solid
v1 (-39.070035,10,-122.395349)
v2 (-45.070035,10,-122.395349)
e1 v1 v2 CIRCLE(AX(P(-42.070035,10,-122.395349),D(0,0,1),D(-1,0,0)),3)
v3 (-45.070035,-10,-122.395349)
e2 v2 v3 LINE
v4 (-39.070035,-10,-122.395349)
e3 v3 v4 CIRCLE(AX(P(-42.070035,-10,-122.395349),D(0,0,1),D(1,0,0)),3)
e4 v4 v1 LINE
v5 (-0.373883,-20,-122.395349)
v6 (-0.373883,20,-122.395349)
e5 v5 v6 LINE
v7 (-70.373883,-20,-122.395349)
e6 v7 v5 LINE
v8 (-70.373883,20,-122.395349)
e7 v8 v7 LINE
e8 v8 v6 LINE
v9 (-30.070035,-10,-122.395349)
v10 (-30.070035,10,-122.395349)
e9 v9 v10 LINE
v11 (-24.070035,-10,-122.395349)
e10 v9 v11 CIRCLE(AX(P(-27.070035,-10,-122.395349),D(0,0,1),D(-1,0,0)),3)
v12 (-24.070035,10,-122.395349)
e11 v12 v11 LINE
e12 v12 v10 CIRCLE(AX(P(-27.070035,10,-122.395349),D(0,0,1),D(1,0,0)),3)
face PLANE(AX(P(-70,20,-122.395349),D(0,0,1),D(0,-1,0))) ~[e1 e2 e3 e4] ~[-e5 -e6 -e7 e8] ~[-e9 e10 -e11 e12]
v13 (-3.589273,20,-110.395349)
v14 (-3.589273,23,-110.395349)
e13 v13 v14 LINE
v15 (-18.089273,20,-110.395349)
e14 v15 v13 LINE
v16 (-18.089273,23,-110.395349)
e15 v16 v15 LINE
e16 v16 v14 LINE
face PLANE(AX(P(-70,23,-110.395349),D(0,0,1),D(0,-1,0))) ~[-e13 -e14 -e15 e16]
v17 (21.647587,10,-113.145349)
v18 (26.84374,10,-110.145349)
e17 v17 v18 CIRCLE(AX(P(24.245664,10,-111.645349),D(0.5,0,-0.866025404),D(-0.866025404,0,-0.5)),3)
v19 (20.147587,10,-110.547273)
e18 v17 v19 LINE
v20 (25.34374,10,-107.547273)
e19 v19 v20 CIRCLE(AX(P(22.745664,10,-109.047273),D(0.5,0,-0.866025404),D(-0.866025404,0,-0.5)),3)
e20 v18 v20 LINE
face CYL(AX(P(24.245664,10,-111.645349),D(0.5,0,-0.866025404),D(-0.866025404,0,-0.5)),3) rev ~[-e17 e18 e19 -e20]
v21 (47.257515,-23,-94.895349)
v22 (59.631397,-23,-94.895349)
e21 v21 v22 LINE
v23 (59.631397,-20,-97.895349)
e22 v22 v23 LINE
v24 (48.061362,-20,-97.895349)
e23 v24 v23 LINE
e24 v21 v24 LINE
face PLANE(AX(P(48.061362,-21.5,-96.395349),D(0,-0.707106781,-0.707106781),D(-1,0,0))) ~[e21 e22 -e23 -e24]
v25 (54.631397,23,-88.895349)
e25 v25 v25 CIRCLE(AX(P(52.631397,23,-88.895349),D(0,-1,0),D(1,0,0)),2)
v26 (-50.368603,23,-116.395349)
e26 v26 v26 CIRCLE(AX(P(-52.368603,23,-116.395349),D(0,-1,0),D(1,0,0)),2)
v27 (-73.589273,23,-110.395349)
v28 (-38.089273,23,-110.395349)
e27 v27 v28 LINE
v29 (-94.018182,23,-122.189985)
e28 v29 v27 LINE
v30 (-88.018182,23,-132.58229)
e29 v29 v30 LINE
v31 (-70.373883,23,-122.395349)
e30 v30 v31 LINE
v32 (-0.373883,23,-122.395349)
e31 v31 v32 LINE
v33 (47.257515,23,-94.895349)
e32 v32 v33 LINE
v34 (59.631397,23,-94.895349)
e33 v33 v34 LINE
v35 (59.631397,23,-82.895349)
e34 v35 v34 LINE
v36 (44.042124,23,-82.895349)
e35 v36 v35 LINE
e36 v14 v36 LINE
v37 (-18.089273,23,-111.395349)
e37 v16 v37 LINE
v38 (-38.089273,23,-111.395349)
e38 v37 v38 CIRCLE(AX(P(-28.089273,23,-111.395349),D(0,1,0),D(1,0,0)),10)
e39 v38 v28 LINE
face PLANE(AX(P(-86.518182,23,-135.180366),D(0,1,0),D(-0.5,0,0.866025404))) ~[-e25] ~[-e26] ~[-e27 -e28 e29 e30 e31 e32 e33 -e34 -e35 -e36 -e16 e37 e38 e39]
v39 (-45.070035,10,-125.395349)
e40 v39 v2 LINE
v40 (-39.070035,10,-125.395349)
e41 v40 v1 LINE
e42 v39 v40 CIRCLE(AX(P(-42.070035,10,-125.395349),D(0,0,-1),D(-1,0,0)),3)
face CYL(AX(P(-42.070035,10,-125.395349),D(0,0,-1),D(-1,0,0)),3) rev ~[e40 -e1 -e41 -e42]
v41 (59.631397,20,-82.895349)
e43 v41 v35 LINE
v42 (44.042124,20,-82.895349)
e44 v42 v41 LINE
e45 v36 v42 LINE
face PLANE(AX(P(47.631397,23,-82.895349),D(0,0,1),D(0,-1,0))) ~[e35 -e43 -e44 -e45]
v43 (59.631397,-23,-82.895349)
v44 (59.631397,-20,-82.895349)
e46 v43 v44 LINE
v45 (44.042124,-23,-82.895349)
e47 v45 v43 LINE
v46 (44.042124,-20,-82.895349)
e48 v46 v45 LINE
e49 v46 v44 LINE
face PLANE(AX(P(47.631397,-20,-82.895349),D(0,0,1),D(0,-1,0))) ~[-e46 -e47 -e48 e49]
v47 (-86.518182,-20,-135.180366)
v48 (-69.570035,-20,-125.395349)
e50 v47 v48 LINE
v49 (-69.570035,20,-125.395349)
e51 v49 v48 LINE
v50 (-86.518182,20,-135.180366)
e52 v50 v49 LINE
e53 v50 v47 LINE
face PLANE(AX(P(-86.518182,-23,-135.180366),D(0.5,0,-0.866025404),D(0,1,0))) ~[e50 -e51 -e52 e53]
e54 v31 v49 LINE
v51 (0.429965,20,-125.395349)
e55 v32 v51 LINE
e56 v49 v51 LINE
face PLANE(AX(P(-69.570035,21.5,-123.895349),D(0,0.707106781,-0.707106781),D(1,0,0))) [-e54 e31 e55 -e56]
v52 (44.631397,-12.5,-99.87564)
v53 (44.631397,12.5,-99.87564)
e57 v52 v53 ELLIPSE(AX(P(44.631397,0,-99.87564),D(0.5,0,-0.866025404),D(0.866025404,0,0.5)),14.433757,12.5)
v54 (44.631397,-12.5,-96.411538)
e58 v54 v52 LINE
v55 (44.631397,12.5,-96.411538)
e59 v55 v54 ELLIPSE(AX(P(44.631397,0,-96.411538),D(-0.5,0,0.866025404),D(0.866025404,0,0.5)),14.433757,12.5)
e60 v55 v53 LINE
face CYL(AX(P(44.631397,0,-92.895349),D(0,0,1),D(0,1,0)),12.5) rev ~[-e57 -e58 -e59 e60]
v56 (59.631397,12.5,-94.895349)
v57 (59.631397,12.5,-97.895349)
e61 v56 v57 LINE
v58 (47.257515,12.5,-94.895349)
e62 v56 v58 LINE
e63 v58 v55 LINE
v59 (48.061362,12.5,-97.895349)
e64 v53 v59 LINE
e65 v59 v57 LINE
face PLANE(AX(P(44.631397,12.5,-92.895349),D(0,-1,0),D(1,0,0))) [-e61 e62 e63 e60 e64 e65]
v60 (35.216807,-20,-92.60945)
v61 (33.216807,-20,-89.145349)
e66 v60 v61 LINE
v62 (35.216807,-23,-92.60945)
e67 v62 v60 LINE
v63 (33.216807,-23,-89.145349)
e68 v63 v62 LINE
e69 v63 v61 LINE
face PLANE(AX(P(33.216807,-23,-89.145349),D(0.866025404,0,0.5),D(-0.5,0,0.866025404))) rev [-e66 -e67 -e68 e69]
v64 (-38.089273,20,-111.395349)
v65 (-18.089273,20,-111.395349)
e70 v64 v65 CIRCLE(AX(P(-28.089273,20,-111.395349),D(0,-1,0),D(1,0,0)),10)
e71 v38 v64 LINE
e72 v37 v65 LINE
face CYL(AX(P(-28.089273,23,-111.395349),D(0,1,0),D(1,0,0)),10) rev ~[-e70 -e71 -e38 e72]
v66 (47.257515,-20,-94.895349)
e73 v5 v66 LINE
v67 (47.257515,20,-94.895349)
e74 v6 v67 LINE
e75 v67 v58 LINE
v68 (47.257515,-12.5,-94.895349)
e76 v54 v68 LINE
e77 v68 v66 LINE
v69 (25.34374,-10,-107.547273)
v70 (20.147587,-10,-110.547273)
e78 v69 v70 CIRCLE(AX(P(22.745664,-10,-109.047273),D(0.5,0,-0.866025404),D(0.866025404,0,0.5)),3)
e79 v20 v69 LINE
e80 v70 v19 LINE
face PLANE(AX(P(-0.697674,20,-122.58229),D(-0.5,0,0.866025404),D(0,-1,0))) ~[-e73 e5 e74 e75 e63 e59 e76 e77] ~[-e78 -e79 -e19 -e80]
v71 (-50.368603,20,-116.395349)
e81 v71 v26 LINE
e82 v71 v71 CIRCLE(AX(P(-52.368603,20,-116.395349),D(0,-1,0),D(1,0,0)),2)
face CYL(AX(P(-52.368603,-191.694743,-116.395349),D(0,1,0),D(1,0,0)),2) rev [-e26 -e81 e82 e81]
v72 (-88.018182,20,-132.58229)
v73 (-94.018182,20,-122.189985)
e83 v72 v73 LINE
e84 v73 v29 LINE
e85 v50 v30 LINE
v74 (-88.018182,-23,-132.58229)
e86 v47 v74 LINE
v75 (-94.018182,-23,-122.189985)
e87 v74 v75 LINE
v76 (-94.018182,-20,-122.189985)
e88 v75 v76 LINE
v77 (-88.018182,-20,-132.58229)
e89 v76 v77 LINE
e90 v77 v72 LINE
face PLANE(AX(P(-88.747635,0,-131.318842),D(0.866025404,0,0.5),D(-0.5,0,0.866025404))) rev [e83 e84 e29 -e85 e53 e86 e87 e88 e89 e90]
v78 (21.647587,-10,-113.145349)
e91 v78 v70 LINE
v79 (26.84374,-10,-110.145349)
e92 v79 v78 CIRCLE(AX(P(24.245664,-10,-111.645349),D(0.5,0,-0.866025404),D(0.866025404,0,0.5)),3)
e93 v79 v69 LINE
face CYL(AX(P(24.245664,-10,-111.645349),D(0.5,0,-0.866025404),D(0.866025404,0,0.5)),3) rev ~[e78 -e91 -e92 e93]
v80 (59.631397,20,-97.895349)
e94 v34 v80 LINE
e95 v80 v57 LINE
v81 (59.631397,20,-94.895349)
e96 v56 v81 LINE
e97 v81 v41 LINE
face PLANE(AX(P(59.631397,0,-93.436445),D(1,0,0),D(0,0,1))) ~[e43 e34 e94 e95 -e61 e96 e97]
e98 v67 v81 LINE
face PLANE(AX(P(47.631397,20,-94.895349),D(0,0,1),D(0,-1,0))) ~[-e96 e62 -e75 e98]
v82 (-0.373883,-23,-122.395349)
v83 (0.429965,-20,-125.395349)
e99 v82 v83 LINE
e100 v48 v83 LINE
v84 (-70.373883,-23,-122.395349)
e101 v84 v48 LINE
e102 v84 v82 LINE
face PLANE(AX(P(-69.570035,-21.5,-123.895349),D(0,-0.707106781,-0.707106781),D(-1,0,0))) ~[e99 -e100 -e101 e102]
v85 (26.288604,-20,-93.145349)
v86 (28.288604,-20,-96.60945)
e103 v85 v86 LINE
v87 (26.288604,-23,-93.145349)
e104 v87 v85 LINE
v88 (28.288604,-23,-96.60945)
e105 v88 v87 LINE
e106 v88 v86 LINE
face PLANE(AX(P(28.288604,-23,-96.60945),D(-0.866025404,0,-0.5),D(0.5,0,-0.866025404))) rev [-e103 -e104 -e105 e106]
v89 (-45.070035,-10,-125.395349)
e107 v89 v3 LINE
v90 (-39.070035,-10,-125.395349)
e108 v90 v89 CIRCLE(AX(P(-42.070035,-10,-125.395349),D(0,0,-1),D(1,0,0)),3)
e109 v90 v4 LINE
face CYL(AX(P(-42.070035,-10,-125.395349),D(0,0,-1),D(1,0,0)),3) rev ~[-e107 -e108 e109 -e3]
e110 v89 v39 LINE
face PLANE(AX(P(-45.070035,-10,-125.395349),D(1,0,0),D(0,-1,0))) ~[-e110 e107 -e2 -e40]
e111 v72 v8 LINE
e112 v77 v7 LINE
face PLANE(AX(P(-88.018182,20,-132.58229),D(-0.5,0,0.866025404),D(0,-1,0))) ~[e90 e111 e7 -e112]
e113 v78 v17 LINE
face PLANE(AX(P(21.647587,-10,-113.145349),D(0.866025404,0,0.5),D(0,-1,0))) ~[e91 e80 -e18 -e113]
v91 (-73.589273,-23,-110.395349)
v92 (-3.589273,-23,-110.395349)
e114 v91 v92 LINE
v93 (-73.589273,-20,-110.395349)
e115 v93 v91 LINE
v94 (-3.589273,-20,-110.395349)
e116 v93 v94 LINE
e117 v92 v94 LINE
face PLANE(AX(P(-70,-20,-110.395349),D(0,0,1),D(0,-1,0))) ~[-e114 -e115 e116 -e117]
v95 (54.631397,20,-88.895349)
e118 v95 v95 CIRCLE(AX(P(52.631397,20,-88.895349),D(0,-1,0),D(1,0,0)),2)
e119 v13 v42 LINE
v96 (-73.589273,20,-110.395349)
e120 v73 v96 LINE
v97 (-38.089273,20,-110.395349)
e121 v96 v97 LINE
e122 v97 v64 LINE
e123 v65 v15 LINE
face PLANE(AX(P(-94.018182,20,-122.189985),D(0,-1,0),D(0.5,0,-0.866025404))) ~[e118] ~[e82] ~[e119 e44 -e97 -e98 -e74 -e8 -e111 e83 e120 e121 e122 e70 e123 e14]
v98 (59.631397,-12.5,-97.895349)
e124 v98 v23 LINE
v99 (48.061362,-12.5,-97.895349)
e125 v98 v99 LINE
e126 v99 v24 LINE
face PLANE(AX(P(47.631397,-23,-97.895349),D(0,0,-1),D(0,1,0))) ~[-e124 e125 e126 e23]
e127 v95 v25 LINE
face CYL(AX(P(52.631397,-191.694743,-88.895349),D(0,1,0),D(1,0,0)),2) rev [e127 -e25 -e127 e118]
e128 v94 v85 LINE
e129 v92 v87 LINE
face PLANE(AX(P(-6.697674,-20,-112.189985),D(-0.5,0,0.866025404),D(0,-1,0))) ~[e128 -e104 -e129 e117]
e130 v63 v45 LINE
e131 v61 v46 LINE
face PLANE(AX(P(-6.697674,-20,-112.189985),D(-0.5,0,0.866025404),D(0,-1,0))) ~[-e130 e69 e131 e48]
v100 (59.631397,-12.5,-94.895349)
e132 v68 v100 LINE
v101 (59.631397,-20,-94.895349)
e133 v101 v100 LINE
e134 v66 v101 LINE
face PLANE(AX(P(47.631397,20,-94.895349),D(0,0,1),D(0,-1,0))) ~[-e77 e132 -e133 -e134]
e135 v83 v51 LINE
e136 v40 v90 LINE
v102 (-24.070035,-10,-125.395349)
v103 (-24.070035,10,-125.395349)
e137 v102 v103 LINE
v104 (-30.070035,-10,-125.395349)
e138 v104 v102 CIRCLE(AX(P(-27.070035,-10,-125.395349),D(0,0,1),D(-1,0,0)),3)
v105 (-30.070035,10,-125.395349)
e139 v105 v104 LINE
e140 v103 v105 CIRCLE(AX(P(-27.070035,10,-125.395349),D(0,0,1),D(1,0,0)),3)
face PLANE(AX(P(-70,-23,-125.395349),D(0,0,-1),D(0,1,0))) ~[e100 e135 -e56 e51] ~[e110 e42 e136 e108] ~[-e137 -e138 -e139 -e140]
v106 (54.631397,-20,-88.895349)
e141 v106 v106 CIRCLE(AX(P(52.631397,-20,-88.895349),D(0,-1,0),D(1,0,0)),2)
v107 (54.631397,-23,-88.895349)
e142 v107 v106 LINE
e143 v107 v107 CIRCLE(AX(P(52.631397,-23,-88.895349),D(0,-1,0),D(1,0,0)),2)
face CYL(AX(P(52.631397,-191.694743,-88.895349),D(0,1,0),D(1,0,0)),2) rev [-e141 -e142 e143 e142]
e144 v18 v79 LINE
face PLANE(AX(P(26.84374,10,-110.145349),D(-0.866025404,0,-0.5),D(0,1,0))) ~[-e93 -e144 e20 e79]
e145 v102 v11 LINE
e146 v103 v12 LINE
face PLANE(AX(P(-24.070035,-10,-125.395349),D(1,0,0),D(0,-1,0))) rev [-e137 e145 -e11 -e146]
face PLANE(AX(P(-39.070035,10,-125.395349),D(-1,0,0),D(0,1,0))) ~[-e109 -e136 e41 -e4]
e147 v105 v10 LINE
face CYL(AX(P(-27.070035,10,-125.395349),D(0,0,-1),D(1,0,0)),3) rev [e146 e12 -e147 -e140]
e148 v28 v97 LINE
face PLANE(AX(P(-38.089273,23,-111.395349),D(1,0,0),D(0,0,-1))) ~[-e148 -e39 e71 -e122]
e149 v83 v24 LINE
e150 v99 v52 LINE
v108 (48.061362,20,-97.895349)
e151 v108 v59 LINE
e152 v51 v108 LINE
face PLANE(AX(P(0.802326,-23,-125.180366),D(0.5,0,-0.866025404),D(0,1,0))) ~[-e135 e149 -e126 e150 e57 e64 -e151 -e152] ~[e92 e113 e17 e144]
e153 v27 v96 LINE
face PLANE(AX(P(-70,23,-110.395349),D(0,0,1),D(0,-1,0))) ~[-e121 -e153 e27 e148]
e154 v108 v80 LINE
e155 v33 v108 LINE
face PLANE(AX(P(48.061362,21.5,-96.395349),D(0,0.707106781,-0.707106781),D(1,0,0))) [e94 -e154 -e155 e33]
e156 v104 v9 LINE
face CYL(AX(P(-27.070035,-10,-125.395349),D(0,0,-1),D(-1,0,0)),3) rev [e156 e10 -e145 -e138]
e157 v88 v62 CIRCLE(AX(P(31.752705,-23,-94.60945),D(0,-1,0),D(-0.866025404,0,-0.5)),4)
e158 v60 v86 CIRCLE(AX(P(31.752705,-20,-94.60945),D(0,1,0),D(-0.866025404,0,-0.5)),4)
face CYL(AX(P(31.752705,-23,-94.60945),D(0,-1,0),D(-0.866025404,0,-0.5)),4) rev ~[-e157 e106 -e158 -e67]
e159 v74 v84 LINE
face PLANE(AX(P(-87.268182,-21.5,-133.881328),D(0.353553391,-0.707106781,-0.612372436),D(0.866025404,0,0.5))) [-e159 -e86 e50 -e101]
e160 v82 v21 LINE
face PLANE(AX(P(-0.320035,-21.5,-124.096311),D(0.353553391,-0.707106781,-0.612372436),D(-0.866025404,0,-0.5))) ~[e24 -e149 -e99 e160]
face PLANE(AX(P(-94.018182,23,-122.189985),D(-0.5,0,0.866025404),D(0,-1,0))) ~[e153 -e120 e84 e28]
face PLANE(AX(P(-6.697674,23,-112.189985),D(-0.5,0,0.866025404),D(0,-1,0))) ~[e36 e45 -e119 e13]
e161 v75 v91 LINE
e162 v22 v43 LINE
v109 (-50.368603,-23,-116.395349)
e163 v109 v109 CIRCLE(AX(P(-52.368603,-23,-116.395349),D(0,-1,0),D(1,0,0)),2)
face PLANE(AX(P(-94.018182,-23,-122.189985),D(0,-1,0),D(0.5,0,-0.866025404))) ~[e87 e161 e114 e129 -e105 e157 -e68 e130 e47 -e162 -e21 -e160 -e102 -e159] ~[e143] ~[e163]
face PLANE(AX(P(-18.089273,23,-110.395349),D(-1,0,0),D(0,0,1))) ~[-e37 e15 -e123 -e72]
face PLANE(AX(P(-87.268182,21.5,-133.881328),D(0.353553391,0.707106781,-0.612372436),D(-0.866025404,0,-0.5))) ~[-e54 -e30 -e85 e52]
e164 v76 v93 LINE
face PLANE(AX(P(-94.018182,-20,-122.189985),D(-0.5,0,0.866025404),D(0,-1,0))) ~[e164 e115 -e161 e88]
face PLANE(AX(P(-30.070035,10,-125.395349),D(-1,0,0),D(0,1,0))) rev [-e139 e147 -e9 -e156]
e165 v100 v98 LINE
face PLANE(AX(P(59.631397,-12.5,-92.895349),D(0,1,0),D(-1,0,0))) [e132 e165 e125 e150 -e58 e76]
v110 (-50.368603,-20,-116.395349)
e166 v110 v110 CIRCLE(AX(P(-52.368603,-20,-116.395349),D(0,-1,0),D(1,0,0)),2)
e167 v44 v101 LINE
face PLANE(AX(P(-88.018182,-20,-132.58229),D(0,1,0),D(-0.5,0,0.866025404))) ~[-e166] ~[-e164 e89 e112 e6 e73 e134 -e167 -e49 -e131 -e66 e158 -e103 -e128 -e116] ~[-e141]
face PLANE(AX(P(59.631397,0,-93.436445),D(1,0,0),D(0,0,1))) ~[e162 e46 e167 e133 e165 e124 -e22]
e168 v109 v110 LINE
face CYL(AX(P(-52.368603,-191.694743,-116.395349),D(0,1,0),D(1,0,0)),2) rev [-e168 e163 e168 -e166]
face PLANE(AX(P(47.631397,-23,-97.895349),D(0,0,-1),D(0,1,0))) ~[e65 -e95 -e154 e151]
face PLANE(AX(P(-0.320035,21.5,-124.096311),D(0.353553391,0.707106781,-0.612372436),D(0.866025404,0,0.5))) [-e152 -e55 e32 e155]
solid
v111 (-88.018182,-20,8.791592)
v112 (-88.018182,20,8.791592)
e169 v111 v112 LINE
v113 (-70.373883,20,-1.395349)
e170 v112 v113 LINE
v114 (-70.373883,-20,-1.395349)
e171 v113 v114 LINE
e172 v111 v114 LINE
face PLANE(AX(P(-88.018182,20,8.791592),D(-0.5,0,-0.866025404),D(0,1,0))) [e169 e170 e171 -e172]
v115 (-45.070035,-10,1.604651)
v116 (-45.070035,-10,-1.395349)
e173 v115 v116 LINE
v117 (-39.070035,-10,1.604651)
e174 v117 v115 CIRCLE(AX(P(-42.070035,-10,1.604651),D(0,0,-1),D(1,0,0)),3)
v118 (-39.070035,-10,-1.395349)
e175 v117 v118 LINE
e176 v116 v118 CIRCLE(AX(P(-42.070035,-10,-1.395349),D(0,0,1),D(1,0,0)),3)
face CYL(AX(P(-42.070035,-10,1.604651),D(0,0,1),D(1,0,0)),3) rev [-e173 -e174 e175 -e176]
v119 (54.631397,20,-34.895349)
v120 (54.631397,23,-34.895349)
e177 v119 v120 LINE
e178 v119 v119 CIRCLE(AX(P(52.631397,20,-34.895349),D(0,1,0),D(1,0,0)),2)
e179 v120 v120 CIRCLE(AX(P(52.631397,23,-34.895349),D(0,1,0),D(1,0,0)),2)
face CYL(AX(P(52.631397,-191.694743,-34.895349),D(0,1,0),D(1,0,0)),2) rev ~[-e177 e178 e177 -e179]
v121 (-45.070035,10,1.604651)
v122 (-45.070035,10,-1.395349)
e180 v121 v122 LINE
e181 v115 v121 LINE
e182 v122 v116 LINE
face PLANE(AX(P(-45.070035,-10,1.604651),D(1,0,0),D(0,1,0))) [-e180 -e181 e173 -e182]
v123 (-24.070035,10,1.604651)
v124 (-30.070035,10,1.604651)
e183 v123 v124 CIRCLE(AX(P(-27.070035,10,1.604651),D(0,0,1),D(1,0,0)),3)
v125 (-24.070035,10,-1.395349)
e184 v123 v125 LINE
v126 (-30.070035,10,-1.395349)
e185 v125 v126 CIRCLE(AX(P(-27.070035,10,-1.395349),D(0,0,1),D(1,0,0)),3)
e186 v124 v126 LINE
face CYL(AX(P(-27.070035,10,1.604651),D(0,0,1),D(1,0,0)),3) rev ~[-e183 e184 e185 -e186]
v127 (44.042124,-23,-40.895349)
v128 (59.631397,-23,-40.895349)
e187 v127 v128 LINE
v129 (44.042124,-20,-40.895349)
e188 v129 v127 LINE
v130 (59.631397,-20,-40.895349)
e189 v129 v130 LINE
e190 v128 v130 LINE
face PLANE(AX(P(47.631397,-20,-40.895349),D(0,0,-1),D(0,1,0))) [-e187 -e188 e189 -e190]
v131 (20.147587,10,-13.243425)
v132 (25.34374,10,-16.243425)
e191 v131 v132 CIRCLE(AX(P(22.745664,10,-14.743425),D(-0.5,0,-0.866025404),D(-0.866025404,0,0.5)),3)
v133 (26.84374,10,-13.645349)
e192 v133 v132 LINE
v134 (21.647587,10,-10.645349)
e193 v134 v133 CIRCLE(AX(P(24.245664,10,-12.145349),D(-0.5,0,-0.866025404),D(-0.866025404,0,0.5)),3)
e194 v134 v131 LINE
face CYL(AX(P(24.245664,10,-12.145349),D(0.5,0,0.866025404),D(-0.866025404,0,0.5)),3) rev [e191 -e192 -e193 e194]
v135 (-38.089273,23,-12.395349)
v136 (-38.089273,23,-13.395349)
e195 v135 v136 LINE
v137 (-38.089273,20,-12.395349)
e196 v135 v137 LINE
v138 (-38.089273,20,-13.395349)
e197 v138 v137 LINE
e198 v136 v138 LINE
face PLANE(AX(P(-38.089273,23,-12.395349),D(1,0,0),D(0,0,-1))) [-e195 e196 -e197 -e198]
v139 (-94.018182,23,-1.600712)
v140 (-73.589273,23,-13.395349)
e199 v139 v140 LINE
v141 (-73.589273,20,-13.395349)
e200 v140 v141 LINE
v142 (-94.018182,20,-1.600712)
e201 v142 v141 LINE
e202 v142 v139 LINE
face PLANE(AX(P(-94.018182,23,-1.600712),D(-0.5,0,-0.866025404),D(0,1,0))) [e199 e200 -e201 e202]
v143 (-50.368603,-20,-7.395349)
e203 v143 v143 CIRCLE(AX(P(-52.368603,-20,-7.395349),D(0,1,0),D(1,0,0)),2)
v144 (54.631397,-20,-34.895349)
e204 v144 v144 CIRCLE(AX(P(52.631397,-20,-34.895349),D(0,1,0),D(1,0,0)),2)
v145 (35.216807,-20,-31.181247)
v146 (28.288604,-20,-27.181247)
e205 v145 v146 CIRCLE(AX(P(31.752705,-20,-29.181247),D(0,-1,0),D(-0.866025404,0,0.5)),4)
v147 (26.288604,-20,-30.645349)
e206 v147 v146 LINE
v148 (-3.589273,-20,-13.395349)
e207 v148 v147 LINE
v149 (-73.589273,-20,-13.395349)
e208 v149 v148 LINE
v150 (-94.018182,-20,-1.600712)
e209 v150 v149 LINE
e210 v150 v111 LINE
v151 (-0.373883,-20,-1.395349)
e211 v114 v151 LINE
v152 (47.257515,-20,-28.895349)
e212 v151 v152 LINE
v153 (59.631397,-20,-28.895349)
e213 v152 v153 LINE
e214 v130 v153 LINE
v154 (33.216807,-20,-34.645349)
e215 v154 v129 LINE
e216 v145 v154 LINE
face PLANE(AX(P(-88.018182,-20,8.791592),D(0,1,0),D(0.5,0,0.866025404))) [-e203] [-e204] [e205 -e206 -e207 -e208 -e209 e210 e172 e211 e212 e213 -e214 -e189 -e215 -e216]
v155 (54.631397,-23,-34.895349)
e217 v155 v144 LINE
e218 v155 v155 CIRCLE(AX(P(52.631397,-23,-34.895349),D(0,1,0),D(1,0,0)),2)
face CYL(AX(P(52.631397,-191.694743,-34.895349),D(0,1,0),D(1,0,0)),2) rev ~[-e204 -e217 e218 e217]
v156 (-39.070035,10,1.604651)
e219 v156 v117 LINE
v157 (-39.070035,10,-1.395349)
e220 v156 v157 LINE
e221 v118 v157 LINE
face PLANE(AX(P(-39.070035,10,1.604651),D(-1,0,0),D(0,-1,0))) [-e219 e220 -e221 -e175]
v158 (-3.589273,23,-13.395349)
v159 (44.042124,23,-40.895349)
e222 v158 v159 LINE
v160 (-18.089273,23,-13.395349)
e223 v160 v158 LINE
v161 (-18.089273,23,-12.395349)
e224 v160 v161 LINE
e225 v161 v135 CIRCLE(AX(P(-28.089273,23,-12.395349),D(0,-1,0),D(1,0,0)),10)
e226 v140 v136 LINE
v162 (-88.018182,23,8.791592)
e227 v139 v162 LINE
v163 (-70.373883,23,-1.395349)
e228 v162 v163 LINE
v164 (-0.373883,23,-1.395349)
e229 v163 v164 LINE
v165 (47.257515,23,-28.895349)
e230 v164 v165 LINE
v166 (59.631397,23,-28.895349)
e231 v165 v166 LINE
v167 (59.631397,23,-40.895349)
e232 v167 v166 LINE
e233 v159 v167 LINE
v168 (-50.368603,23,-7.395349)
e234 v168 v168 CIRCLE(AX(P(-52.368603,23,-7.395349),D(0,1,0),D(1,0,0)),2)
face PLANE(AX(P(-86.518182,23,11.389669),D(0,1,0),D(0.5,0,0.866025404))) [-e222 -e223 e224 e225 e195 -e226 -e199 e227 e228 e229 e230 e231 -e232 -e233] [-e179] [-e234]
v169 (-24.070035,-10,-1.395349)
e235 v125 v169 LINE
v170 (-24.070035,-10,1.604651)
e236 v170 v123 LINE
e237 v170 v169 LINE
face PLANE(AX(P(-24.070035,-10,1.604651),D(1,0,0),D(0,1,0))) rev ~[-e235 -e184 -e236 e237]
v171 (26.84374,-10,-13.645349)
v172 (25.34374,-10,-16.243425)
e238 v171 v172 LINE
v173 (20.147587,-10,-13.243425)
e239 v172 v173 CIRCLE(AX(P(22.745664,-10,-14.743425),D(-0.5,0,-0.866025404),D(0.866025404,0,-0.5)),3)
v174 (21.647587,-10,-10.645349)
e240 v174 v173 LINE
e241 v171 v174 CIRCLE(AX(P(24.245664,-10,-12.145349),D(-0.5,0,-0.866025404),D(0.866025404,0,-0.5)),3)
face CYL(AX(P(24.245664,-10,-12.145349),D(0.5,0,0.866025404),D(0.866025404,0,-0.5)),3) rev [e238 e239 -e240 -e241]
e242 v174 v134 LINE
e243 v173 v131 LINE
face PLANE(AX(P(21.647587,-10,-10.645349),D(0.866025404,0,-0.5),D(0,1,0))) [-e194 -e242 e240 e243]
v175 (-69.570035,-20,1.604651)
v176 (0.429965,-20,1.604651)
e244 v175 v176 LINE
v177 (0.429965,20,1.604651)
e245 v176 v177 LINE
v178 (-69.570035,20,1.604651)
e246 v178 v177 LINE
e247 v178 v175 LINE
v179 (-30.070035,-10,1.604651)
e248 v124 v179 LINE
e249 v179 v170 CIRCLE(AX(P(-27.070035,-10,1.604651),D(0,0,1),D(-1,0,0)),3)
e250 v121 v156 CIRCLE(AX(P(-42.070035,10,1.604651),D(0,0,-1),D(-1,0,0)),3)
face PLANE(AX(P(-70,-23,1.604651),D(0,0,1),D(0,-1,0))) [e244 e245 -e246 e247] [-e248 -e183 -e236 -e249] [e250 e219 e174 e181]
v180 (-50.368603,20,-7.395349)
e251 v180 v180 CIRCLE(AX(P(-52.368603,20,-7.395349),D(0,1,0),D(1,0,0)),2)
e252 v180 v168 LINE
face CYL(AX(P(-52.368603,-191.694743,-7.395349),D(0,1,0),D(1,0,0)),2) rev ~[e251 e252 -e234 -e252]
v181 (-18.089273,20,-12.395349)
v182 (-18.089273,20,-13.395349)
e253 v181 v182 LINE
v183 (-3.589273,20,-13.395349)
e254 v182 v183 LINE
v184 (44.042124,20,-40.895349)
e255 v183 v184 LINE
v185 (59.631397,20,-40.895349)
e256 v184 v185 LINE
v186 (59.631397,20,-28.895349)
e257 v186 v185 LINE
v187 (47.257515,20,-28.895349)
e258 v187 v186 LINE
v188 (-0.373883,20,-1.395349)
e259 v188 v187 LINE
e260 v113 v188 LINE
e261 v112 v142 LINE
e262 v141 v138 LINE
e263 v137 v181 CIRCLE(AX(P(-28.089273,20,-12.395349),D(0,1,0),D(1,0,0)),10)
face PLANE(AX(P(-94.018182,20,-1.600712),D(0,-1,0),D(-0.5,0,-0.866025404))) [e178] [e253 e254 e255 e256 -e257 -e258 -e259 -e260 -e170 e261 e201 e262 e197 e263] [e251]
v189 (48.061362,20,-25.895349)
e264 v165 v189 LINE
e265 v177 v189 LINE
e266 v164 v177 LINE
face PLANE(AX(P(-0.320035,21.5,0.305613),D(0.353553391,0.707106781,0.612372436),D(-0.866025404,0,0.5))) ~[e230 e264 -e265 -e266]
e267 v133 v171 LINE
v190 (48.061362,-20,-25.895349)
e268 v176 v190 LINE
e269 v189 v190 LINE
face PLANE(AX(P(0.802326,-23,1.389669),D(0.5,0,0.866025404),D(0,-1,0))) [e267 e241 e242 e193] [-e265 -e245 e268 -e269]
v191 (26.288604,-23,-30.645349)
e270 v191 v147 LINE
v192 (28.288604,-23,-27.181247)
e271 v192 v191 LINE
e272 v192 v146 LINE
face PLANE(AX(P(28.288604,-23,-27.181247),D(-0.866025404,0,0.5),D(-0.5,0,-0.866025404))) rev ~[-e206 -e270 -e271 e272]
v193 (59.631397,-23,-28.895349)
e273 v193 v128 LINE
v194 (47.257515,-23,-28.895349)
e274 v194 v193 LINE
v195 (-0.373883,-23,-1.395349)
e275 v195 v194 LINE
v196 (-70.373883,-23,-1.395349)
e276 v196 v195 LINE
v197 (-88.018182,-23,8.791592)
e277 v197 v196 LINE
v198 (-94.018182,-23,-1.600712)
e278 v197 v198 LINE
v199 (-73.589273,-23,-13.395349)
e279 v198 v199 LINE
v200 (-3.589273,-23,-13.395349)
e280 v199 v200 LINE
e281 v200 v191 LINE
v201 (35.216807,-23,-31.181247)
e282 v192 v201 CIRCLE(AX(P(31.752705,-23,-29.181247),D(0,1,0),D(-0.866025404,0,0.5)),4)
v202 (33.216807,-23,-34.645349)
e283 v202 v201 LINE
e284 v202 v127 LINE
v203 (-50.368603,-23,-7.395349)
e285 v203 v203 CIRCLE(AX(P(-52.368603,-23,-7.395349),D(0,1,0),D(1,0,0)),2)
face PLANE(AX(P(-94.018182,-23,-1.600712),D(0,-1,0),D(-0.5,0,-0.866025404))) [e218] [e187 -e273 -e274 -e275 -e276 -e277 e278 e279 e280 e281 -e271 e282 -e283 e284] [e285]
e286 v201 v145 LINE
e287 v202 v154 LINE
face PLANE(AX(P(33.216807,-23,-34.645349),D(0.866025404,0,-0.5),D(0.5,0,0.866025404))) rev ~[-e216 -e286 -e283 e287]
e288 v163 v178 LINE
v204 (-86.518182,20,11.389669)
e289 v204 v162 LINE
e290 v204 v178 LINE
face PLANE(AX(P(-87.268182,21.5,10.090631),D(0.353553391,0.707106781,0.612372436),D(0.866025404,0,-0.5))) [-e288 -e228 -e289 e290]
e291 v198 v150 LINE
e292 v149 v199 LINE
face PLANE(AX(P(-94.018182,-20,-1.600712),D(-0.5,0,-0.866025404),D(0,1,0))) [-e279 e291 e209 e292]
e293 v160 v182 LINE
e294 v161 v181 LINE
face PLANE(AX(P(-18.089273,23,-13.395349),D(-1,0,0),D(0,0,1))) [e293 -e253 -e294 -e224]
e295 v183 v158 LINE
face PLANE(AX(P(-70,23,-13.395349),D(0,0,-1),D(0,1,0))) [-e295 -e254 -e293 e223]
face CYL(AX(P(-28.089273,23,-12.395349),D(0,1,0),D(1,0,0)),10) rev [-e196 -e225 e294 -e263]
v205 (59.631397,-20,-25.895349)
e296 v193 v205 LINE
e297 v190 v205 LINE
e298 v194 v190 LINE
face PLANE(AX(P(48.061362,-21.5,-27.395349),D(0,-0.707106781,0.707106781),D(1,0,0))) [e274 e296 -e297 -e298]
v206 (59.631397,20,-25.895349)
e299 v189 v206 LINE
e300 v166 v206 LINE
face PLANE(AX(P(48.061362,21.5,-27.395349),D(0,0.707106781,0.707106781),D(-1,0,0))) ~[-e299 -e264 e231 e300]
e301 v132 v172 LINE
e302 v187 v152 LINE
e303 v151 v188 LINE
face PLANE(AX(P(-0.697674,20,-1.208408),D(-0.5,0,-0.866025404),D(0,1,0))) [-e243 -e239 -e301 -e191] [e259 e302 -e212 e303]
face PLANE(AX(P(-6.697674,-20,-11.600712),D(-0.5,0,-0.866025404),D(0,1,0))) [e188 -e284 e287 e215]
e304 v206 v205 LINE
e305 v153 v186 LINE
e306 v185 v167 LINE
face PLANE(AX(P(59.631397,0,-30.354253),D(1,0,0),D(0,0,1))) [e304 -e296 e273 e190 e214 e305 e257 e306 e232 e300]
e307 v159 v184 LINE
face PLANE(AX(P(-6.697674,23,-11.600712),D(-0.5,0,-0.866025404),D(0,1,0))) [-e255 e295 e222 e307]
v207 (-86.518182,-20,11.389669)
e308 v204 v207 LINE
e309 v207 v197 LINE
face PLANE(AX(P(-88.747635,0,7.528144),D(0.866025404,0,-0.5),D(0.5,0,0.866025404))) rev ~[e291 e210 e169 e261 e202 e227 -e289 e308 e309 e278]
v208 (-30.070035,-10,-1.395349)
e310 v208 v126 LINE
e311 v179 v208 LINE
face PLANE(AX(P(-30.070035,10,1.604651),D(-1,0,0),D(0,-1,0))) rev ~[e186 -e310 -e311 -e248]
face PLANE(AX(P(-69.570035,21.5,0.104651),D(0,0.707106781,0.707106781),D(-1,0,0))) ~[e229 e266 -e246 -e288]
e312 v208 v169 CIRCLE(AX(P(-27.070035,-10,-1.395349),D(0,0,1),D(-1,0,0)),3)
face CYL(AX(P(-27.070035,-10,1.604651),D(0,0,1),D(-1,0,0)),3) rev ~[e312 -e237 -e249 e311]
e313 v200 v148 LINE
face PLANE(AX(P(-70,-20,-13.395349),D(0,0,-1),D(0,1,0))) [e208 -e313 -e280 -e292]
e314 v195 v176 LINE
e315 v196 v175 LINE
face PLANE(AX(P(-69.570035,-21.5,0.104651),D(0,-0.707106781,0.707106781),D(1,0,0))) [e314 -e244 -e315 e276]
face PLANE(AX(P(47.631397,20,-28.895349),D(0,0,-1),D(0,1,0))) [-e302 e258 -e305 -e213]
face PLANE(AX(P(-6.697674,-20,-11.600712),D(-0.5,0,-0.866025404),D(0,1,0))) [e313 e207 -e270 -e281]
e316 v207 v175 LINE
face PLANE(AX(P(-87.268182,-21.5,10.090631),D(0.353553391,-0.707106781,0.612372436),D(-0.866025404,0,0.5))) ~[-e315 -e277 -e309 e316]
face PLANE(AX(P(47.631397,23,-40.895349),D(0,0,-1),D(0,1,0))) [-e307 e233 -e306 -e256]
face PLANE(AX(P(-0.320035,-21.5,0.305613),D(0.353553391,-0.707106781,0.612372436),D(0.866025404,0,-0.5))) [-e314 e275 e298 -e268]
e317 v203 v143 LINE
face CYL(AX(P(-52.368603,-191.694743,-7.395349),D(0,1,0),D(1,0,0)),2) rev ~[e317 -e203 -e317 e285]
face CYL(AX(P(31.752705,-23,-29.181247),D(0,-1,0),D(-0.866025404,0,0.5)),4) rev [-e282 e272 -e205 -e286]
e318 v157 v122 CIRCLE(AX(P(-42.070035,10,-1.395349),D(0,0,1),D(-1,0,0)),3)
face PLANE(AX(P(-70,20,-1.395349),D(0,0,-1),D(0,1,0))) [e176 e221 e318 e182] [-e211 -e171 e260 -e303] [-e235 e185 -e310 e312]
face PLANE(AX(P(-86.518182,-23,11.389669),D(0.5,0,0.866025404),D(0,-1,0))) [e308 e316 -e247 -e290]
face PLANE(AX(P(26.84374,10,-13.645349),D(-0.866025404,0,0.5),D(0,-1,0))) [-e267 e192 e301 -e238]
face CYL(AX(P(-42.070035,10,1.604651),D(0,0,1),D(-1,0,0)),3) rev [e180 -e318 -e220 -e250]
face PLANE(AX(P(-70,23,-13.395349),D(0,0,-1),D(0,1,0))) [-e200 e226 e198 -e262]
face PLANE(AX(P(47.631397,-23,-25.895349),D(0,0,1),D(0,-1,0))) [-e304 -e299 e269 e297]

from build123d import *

# Parameters (mm, degrees)
CUT_EXTRUDE3_DEPTH      = 5
CUT_EXTRUDE4_DEPTH      = 10
CHAMFER1_SIZE           = 3
CUT_EXTRUDE6_DEPTH      = 3
F_4_0MM_DOWEL_HOLE2_D   = 4
CUT_EXTRUDE9_DEPTH      = 10
CUT_EXTRUDE7_DEPTH      = 146.985046122
CUT_EXTRUDE7_DEPTH_BACK = 5


with BuildPart() as part:
    # Sweep8: sweep along a path in Sketch6
    with BuildLine(Plane(origin=(0, 0, 0), x_dir=(1, 0, 0), z_dir=(0, 1, 0))) as sweep8_path:
        Line((-87.320508076, -10), (-70, 0))
        Line((-70, 0), (0, 0))
        Line((0, 0), (47.631397208, 27.5))
        Line((47.631397208, 27.5), (59.631397208, 27.5))
    # Sketch7 → Sweep8 (sweep)
    with BuildSketch(Plane(origin=(0, 0, 0), x_dir=(0, 0, -1), z_dir=(1, 0, 0))):
        Polygon((-1.604651163, -23), (-1.604651163, 23), (13.395348837, 23), (13.395348837, 20), (1.395348837, 20), (1.395348837, -20), (13.395348837, -20), (13.395348837, -23), align=None)
    sweep(path=sweep8_path.line, transition=Transition.RIGHT)

    # Sketch10 → Cut-Extrude3 (cut)
    with BuildSketch(Plane(origin=(0, 23, 0), x_dir=(1, 0, 0), z_dir=(0, 1, 0))):
        with BuildLine():
            Line((-38.089272903, 13.395348837), (-18.089272903, 13.395348837))
            Line((-18.089272903, 13.395348837), (-18.089272903, 12.395348837))
            ThreePointArc((-18.089272903, 12.395348837), (-28.089272903, 2.395348837), (-38.089272903, 12.395348837))
            Line((-38.089272903, 12.395348837), (-38.089272903, 13.395348837))
        make_face()
    extrude(amount=-CUT_EXTRUDE3_DEPTH, mode=Mode.SUBTRACT)

    # Sketch11 → Cut-Extrude4 (cut)
    with BuildSketch(Plane.XY.offset(1.604651163)):
        with BuildLine():
            Line((-45.070035017, -10), (-45.070035017, 10))
            ThreePointArc((-45.070035017, 10), (-42.070035017, 13), (-39.070035017, 10))
            Line((-39.070035017, 10), (-39.070035017, -10))
            ThreePointArc((-39.070035017, -10), (-42.070035017, -13), (-45.070035017, -10))
        make_face()
        with BuildLine():
            Line((-24.070035017, -10), (-24.070035017, 10))
            ThreePointArc((-24.070035017, 10), (-27.070035017, 13), (-30.070035017, 10))
            Line((-30.070035017, 10), (-30.070035017, -10))
            ThreePointArc((-30.070035017, -10), (-27.070035017, -13), (-24.070035017, -10))
        make_face()
    extrude(amount=-CUT_EXTRUDE4_DEPTH, mode=Mode.SUBTRACT)

    # Chamfer1
    chamfer1_edges = [part.edges().sort_by_distance(p)[0] for p in [
        (-78.044108756, -23, 6.497159917),
        (-34.570035017, -23, 1.604651163),
        (24.245663587, -23, -12.145348837),
        (-78.044108756, 23, 6.497159917),
        (-34.570035017, 23, 1.604651163),
        (24.245663587, 23, -12.145348837),
        (53.8463797, -23, -25.895348837),
        (53.8463797, 23, -25.895348837),
    ]]
    chamfer(chamfer1_edges, length=CHAMFER1_SIZE)

    # Sketch14 → Cut-Extrude6 (cut)
    with BuildSketch(Plane(origin=(0.802325581, 0, 1.389668671), x_dir=(0.8660254037844379, 0, -0.5000000000000014), z_dir=(0.5000000000000014, 0, 0.8660254037844379))):
        with BuildLine():
            Line((24.070035017, -10), (24.070035017, 10))
            ThreePointArc((24.070035017, 10), (27.070035017, 13), (30.070035017, 10))
            Line((30.070035017, 10), (30.070035017, -10))
            ThreePointArc((30.070035017, -10), (27.070035017, -13), (24.070035017, -10))
        make_face()
    extrude(amount=-CUT_EXTRUDE6_DEPTH, mode=Mode.SUBTRACT)

    # Ø4.0mm Dowel Hole2 (through all)
    with Locations(Plane(origin=(0, -23, 0), x_dir=(-1, 0, 0), z_dir=(0, -1, 0))):
        with Locations((52.368602792, 7.395348837), (-52.631397208, 34.895348837)):
            Hole(F_4_0MM_DOWEL_HOLE2_D / 2)

    # Sketch22 → Cut-Extrude9 (cut)
    with BuildSketch(Plane.XZ.offset(23)):
        with BuildLine():
            Line((28.288603527, -27.181247222), (26.288603527, -30.645348837))
            Line((26.288603527, -30.645348837), (33.216806758, -34.645348837))
            Line((33.216806758, -34.645348837), (35.216806758, -31.181247222))
            ThreePointArc((35.216806758, -31.181247222), (33.752705142, -25.717145607), (28.288603527, -27.181247222))
        make_face()
    extrude(amount=-CUT_EXTRUDE9_DEPTH, mode=Mode.SUBTRACT)


with BuildPart() as body_2:
    # Mirror2: mirrored copy
    add(part.part.mirror(Plane(origin=(0, 0, -61.895348837), x_dir=(1, 0, 0), z_dir=(0, 0, -1))))

    # Sketch20 → Cut-Extrude7 (cut, two sides: drawn at the far end of the back side and taken through both)
    with BuildSketch(Plane(origin=(0, 0, -97.895348837), x_dir=(-1, 0, 0), z_dir=(0, 0, -1)).offset(-CUT_EXTRUDE7_DEPTH_BACK)):
        with BuildLine():
            ThreePointArc((-44.631397208, -12.5), (-32.131397208, 0), (-44.631397208, 12.5))
            Line((-44.631397208, 12.5), (-59.631397208, 12.5))
            Line((-59.631397208, 12.5), (-59.631397208, -12.5))
            Line((-59.631397208, -12.5), (-44.631397208, -12.5))
        make_face()
    extrude(amount=CUT_EXTRUDE7_DEPTH + CUT_EXTRUDE7_DEPTH_BACK, mode=Mode.SUBTRACT)


solid = Compound([part.part, body_2.part])
